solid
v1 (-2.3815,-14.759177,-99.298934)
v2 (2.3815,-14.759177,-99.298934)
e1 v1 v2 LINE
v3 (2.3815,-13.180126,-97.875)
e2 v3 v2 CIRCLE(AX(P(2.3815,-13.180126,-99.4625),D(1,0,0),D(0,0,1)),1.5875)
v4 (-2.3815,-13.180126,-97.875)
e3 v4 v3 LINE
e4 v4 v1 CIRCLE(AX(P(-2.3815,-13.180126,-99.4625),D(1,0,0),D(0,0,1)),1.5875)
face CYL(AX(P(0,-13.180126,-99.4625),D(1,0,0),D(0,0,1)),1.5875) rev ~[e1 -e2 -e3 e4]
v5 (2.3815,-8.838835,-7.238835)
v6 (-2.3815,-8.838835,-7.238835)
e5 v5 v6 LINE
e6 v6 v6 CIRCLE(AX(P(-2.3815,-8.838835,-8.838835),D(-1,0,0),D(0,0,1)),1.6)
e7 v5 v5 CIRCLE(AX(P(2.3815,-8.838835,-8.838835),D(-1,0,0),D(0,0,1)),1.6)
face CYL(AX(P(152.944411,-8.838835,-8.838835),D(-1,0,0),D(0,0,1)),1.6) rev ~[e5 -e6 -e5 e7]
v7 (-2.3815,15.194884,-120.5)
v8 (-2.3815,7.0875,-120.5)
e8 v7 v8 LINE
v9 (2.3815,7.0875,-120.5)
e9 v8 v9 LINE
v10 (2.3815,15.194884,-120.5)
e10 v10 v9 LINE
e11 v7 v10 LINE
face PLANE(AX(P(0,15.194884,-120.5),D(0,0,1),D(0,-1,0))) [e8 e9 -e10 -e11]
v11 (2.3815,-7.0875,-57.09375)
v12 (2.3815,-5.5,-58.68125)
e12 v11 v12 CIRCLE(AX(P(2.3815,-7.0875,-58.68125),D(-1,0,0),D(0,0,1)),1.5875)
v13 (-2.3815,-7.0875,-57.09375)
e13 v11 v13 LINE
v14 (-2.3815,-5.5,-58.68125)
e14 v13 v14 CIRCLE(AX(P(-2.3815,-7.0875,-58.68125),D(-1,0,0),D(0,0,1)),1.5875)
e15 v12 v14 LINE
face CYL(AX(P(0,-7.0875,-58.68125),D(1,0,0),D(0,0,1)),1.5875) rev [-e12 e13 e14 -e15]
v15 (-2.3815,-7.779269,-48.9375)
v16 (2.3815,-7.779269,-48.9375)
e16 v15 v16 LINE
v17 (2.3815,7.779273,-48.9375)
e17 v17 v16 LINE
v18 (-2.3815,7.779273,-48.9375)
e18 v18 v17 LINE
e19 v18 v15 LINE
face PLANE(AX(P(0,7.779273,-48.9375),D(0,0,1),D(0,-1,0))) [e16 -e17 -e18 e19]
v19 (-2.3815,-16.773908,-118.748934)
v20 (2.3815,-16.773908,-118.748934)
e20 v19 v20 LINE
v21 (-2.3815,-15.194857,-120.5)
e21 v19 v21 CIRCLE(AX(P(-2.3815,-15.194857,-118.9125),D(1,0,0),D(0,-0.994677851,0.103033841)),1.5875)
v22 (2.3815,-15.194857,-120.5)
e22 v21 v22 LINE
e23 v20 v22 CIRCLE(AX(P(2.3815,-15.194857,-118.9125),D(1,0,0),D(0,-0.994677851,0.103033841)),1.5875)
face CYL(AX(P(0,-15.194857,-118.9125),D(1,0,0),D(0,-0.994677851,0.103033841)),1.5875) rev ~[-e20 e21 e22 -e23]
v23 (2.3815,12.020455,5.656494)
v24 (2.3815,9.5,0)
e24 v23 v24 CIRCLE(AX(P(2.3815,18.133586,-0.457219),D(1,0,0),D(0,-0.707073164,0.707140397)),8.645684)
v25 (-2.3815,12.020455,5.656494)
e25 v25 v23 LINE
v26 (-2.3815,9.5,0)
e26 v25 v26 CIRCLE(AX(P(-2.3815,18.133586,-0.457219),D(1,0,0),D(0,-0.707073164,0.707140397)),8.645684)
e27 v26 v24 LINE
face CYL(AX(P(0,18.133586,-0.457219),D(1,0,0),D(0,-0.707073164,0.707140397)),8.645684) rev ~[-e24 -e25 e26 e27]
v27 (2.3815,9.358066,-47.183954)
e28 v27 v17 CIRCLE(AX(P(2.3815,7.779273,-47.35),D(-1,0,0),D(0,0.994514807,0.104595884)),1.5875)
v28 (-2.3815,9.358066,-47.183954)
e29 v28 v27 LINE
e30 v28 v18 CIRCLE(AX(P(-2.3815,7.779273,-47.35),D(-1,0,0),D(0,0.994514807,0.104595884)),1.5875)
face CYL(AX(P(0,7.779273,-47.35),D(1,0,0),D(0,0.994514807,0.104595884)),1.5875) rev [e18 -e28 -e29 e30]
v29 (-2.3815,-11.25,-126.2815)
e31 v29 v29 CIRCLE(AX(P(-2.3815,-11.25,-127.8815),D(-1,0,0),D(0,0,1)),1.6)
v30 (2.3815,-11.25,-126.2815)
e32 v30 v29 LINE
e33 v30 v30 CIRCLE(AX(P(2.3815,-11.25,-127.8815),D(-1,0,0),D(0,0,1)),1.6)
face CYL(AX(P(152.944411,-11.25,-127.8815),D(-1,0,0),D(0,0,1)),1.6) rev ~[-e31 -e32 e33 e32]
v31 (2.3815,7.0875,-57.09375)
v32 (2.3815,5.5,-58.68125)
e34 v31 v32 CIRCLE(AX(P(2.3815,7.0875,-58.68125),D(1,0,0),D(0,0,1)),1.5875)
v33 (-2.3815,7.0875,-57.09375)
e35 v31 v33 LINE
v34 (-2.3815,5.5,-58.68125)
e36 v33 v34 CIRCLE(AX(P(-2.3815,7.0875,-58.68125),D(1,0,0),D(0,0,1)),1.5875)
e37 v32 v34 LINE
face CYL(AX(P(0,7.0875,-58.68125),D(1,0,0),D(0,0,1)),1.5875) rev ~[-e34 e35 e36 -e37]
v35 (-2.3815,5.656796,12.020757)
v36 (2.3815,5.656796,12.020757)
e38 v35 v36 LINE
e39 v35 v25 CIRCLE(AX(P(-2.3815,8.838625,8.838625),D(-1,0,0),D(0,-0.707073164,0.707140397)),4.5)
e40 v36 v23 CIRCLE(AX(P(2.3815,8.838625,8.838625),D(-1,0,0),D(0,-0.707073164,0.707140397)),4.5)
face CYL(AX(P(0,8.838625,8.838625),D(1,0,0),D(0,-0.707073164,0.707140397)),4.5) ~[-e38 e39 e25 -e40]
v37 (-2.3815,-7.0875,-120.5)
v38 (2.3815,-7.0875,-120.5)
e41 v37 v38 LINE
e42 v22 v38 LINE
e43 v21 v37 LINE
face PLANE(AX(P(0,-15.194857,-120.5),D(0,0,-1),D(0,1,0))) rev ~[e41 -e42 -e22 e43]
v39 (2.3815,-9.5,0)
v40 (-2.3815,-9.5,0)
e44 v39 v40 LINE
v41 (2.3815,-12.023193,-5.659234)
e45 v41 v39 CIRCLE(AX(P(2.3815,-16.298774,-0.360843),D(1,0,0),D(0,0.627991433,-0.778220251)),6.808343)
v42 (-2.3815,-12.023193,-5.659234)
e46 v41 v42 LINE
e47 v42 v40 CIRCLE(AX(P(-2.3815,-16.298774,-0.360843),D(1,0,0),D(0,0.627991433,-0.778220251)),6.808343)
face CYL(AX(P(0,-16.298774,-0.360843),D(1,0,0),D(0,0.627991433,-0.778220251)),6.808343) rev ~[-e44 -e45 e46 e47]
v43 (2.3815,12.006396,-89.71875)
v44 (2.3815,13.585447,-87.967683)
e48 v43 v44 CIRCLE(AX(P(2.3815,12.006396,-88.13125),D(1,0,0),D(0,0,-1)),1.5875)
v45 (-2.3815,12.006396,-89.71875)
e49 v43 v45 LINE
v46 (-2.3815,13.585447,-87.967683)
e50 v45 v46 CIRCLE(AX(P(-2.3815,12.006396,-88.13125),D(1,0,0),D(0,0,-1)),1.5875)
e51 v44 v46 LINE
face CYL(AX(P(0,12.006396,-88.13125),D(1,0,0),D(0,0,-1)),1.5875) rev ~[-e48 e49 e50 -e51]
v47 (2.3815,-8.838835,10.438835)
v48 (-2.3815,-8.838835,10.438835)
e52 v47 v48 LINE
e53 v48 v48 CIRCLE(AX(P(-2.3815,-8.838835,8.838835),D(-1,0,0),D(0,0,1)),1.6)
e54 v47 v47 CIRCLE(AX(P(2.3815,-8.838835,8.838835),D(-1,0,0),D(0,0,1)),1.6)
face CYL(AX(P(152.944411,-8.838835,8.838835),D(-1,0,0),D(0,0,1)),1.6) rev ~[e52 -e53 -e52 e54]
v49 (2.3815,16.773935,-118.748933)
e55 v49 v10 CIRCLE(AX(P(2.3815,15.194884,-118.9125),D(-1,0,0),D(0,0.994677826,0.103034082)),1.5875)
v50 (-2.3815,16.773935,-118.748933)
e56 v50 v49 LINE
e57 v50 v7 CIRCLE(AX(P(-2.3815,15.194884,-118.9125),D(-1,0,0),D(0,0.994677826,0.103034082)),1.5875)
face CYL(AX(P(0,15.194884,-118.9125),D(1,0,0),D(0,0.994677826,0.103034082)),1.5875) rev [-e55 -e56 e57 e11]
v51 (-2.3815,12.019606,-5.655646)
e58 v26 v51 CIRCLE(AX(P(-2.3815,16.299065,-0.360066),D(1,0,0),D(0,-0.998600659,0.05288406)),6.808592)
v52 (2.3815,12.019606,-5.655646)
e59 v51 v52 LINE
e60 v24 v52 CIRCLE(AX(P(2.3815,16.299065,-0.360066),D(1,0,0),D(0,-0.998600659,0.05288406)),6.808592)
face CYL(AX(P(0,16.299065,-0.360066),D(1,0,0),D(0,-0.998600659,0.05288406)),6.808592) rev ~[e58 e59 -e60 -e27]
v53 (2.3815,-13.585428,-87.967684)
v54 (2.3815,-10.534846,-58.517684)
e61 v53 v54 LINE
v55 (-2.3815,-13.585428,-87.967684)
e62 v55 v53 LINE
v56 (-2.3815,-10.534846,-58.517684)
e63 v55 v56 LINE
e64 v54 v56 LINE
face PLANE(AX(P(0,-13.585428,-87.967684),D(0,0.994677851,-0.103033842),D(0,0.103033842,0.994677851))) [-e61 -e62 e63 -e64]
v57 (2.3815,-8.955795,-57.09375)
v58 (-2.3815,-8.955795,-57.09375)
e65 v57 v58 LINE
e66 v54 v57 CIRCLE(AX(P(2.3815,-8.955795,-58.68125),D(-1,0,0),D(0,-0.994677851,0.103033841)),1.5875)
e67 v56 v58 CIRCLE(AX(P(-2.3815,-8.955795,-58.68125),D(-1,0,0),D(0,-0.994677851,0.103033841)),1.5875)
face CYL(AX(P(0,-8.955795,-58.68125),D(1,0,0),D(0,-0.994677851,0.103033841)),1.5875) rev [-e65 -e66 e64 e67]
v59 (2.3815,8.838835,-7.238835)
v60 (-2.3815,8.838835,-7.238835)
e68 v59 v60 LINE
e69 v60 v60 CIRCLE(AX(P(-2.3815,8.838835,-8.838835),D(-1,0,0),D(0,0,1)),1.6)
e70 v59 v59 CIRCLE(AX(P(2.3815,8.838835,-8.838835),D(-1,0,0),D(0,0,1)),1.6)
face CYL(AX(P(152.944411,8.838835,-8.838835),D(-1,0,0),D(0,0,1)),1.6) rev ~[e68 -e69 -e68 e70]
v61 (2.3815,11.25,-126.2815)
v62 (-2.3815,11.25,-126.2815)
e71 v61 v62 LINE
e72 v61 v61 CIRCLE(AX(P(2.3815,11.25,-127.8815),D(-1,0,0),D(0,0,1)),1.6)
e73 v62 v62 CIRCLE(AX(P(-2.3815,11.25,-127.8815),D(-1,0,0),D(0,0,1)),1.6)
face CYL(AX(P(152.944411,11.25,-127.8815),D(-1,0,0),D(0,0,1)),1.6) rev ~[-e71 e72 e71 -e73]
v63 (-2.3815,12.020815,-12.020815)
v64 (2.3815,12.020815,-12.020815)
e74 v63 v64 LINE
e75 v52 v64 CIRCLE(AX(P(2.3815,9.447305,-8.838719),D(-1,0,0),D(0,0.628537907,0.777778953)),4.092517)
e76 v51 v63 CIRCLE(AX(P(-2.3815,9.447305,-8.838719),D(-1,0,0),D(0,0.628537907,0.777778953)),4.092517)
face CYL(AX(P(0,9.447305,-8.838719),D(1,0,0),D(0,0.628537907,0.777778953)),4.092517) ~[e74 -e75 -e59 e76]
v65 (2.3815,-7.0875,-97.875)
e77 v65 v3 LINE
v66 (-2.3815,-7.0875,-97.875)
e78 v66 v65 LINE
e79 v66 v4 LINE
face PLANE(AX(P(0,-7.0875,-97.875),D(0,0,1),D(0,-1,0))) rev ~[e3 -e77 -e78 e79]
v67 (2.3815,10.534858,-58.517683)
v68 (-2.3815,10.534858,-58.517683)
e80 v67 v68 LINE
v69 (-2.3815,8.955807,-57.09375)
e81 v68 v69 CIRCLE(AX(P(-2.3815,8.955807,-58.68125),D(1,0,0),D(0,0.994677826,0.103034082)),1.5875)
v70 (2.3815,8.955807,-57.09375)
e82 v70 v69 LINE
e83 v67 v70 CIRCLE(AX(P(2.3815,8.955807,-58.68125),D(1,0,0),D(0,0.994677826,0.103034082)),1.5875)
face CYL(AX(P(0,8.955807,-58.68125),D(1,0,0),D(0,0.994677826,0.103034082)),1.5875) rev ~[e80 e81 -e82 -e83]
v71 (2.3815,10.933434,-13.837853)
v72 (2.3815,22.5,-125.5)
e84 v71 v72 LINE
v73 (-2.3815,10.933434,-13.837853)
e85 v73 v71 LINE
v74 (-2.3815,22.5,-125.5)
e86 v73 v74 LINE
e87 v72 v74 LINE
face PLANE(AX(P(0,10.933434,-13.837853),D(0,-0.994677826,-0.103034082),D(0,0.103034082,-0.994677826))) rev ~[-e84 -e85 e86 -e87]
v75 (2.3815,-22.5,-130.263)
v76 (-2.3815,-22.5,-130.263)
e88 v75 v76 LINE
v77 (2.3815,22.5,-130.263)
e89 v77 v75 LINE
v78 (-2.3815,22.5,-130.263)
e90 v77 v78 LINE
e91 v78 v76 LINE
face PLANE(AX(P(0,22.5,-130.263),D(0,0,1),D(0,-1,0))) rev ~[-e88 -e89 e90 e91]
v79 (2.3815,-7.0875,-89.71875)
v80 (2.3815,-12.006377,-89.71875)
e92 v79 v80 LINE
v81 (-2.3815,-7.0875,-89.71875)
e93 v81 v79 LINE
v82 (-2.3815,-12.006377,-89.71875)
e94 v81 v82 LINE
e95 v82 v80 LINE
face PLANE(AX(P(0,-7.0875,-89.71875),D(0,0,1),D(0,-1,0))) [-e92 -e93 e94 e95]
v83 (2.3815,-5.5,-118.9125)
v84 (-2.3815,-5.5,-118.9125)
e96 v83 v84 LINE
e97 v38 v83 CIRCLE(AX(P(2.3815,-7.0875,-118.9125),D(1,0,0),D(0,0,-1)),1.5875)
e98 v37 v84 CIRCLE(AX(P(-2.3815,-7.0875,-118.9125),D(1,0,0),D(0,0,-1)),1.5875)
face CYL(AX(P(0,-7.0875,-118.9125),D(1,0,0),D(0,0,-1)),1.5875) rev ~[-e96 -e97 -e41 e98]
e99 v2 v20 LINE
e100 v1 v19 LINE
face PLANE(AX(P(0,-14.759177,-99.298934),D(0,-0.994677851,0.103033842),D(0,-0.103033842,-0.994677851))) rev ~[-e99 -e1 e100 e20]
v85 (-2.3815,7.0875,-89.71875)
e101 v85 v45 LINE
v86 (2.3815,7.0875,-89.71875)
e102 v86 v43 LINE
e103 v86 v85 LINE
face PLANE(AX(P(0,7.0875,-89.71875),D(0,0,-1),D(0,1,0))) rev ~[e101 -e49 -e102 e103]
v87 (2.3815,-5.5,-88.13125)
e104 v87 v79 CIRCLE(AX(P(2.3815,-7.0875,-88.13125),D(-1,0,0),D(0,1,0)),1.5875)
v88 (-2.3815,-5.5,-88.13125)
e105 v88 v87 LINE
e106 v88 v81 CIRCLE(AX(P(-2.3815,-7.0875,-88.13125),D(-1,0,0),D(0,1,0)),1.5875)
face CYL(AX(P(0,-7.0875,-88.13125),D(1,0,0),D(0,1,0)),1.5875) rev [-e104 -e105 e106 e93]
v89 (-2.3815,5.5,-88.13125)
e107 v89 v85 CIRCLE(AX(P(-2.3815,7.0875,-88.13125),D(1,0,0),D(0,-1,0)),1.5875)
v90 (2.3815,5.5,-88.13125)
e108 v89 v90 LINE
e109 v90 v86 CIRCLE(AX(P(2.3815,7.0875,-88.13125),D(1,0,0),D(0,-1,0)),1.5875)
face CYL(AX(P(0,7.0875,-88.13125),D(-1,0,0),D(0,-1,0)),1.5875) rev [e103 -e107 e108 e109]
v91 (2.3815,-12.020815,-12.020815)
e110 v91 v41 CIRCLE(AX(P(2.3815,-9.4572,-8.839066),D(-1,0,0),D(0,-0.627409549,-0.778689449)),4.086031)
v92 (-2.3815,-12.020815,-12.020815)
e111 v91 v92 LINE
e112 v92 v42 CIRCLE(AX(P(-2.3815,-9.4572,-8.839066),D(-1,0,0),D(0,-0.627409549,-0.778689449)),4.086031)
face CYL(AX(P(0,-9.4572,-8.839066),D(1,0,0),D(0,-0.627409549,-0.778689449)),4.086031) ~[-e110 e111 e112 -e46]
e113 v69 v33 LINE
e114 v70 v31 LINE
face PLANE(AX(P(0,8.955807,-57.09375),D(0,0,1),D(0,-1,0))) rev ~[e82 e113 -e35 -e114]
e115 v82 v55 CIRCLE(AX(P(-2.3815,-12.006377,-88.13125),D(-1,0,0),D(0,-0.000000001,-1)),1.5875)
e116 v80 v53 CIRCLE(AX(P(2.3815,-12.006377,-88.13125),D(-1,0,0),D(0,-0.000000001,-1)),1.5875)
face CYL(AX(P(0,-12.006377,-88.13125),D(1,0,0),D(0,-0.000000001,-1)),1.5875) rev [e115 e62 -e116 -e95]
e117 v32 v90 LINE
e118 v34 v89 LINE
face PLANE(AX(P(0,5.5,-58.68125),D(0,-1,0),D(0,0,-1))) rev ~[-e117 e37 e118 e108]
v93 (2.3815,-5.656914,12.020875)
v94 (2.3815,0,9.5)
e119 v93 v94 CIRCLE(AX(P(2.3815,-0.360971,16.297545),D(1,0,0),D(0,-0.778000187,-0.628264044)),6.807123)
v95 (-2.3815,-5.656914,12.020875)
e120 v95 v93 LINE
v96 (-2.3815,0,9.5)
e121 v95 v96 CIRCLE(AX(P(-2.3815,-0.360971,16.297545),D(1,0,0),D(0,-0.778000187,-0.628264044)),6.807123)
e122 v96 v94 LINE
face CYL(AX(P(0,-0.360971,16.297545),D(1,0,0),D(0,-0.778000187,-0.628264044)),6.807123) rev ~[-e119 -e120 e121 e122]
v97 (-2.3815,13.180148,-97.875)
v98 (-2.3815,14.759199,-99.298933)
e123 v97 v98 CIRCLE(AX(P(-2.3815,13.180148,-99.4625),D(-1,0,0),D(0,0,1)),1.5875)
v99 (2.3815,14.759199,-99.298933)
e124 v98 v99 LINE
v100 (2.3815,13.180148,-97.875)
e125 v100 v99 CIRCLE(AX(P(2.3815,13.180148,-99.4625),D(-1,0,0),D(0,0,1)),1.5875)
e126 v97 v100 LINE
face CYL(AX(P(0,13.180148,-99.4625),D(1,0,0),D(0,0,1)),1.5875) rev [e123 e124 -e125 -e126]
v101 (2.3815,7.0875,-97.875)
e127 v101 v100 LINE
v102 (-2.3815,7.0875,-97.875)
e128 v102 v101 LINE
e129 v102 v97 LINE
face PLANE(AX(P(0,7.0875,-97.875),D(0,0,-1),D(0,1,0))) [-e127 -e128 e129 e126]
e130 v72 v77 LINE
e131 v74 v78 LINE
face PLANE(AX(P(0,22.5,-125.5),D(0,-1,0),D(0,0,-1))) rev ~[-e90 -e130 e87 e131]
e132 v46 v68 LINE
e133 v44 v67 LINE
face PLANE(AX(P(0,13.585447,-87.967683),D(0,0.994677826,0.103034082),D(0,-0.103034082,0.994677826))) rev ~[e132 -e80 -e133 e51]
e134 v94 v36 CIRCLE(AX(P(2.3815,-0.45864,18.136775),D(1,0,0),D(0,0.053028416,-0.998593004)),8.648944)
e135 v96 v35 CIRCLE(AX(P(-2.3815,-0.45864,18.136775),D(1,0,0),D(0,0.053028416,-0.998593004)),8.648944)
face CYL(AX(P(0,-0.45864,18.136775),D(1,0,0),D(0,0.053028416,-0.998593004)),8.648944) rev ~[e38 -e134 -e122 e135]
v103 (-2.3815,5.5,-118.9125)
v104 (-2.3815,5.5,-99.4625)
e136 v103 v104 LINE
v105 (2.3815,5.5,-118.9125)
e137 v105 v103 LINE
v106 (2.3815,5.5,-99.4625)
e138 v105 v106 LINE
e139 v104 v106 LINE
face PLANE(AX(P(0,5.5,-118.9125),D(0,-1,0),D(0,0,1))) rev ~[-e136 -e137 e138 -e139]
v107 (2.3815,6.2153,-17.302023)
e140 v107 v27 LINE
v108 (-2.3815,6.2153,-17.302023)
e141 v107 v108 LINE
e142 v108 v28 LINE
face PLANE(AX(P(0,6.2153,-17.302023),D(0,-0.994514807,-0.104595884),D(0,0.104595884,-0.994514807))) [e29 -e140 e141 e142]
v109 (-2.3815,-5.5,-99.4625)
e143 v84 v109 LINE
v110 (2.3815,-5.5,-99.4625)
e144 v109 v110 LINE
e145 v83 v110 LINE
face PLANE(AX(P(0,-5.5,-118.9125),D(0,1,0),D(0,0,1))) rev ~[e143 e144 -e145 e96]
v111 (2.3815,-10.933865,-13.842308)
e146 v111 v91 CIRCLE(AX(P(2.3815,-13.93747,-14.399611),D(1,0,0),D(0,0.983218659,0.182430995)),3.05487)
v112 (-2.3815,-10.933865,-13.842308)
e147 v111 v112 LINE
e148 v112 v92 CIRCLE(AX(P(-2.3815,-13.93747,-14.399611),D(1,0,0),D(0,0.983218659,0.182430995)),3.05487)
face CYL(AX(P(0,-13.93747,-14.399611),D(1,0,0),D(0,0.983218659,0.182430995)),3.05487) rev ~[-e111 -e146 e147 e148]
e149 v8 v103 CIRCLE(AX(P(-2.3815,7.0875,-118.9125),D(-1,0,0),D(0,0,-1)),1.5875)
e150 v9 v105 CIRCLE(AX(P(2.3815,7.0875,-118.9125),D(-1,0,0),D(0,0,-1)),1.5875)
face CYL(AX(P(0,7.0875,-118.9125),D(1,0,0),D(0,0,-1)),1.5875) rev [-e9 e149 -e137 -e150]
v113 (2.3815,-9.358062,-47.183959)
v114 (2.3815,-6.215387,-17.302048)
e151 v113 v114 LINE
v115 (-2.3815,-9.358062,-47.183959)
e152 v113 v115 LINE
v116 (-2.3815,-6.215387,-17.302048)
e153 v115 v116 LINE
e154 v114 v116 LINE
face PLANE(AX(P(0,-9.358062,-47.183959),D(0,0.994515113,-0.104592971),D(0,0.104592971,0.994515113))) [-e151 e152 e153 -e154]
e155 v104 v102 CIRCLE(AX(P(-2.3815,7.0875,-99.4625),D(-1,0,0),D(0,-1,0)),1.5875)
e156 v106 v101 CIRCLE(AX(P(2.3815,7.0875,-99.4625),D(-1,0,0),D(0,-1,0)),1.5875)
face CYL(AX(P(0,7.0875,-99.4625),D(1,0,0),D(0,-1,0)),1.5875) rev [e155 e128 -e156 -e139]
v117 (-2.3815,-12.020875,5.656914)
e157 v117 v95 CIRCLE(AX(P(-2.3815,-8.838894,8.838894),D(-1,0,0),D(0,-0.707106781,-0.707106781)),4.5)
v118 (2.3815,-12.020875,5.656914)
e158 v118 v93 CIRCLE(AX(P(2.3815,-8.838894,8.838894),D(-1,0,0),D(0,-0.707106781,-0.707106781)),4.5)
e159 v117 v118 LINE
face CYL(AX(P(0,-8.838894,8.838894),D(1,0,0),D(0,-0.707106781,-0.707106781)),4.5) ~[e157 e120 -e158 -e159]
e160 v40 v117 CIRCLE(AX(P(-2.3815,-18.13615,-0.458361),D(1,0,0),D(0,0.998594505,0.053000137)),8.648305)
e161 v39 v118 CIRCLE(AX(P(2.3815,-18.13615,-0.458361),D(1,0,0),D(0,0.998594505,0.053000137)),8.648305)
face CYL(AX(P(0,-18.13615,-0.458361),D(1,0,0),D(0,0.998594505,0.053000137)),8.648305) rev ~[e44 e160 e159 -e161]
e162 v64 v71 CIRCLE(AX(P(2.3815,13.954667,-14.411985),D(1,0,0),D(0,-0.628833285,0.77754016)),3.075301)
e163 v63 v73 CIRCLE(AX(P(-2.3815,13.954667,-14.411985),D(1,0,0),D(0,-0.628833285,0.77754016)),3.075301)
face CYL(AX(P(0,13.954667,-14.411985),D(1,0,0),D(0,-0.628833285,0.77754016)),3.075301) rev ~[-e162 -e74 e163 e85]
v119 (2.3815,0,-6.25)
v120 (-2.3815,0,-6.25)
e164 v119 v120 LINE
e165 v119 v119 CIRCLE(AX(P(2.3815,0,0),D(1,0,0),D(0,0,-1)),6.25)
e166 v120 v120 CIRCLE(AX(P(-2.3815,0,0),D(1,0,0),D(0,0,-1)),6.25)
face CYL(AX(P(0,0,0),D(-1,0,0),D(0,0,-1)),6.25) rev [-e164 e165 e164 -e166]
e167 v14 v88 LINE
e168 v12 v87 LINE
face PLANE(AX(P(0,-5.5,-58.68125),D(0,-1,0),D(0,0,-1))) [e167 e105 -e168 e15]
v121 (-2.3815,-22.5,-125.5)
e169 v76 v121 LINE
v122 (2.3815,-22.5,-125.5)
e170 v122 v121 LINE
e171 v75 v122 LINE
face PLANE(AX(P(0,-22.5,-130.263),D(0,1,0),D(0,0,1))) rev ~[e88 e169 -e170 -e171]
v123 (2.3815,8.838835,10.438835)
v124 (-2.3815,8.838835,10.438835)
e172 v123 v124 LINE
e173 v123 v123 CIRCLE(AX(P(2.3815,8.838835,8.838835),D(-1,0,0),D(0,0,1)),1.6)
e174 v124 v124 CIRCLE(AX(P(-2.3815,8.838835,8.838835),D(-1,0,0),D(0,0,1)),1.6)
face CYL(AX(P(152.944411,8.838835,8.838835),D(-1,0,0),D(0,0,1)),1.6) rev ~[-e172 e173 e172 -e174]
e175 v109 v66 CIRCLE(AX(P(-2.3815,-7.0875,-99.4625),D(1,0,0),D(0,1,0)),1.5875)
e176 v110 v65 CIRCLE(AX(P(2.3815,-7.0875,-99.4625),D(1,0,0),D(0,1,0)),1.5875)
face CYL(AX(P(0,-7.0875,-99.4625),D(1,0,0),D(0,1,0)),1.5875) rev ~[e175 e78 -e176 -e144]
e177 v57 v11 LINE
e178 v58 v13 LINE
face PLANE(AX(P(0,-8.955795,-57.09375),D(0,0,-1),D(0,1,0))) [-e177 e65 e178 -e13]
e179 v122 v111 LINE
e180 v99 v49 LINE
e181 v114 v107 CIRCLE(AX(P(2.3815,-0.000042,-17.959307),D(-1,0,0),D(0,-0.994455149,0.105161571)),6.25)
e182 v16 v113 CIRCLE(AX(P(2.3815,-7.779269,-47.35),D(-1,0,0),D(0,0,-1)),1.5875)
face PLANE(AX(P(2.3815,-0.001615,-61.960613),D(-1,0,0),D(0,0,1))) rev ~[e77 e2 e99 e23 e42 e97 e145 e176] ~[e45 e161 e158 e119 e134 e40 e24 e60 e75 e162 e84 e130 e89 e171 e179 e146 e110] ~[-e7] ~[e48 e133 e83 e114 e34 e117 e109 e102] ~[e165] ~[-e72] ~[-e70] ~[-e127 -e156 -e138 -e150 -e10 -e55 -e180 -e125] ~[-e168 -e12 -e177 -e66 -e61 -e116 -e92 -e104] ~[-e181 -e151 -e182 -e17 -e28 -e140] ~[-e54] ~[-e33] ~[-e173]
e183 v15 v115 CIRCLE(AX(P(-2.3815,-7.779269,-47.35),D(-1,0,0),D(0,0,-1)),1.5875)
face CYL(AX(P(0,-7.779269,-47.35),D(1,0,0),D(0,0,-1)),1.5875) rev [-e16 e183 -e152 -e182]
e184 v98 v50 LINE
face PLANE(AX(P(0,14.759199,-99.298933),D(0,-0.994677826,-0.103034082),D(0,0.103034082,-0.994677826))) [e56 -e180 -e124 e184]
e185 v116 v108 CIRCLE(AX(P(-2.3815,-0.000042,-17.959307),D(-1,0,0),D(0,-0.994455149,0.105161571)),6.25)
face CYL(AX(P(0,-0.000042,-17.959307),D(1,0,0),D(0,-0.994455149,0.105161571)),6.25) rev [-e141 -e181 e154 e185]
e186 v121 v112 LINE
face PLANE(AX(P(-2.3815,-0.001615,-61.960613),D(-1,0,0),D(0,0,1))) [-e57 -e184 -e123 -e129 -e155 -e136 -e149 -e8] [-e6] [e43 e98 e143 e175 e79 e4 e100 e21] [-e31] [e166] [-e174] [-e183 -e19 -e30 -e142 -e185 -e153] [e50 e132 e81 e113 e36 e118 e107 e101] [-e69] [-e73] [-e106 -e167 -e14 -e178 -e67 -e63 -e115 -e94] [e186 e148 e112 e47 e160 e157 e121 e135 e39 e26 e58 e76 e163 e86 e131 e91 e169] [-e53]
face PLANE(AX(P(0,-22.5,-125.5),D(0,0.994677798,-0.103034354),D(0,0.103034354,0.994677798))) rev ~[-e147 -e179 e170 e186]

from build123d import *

# Parameters (mm, degrees)
SKETCH1_R            = 6.25
BOSS_EXTRUDE1_DEPTH  = 2.3815
M3_CLEARANCE_HOLE1_D = 3.2
M3_CLEARANCE_HOLE2_D = 3.2


with BuildPart() as part:
    # Sketch1 → Boss-Extrude1 (new body, symmetric)
    with BuildSketch(Plane(origin=(0, 0, 0), x_dir=(0, 0, -1), z_dir=(1, 0, 0))):
        with BuildLine():
            Line((13.837853408, 10.933433942), (125.499999966, 22.5))
            Line((125.499999966, 22.5), (130.262999966, 22.5))
            Line((130.262999966, 22.5), (130.262999966, -22.5))
            Line((130.262999966, -22.5), (125.499999966, -22.5))
            Line((125.499999966, -22.5), (13.842307627, -10.933864535))
            ThreePointArc((13.842307627, -10.933864535), (12.834192522, -11.314170817), (12.02081528, -12.02081528))
            ThreePointArc((12.02081528, -12.02081528), (8.840593, -13.543231212), (5.659233624, -12.023192877))
            ThreePointArc((5.659233624, -12.023192877), (3.133291337, -10.08048914), (0, -9.5))
            ThreePointArc((0, -9.5), (-3.061848318, -10.236700307), (-5.656913672, -12.020874702))
            ThreePointArc((-5.656913672, -12.020874702), (-12.020874702, -12.020874704), (-12.020874704, -5.656913674))
            ThreePointArc((-12.020874704, -5.656913674), (-10.079850186, -3.131745006), (-9.500000034, 0))
            ThreePointArc((-9.500000034, 0), (-10.236707938, 3.061753973), (-12.020757217, 5.656796188))
            ThreePointArc((-12.020757217, 5.656796188), (-12.02045467, 12.020757197), (-5.65649366, 12.02045465))
            ThreePointArc((-5.65649366, 12.02045465), (-3.061652792, 10.236409392), (0, 9.5))
            ThreePointArc((0, 9.5), (3.130793061, 10.079739971), (5.655645869, 12.019606441))
            ThreePointArc((5.655645869, 12.019606441), (8.837941978, 13.539821179), (12.02081528, 12.02081528))
            ThreePointArc((12.02081528, 12.02081528), (12.832791387, 11.315799207), (13.837853408, 10.933433942))
        make_face()
        Circle(SKETCH1_R, mode=Mode.SUBTRACT)
        with BuildLine():
            Line((17.302023212, 6.215300033), (47.183954034, 9.358065674))
            ThreePointArc((47.183954034, 9.358065674), (48.412204848, 8.959051834), (48.9375, 7.779273418))
            Line((48.9375, 7.779273418), (48.9375, -7.779269087))
            ThreePointArc((48.9375, -7.779269087), (48.412206576, -8.959045947), (47.183958659, -9.358061829))
            Line((47.183958659, -9.358061829), (17.302047548, -6.21538676))
            ThreePointArc((17.302047548, -6.21538676), (11.709307369, -5.4312e-05), (17.302023212, 6.215300033))
        make_face(mode=Mode.SUBTRACT)
        with BuildLine():
            Line((57.09375, 8.955806876), (57.09375, 7.0875))
            ThreePointArc((57.09375, 7.0875), (57.558717985, 5.964967985), (58.68125, 5.5))
            Line((58.68125, 5.5), (88.13125, 5.5))
            ThreePointArc((88.13125, 5.5), (89.253782015, 5.964967985), (89.71875, 7.0875))
            Line((89.71875, 7.0875), (89.71875, 12.006396363))
            ThreePointArc((89.71875, 12.006396363), (89.194380816, 13.185340432), (87.967683395, 13.585447412))
            Line((87.967683395, 13.585447412), (58.517683395, 10.534857925))
            ThreePointArc((58.517683395, 10.534857925), (57.502305931, 10.018937692), (57.09375, 8.955806876))
        make_face(mode=Mode.SUBTRACT)
        with BuildLine():
            Line((58.68125, -5.5), (88.13125, -5.5))
            ThreePointArc((88.13125, -5.5), (89.253782015, -5.964967985), (89.71875, -7.0875))
            Line((89.71875, -7.0875), (89.71875, -12.006377313))
            ThreePointArc((89.71875, -12.006377313), (89.194380958, -13.185321253), (87.967683776, -13.585428401))
            Line((87.967683776, -13.585428401), (58.517683776, -10.534846102))
            ThreePointArc((58.517683776, -10.534846102), (57.502306059, -10.018925972), (57.09375, -8.955795013))
            Line((57.09375, -8.955795013), (57.09375, -7.0875))
            ThreePointArc((57.09375, -7.0875), (57.558717985, -5.964967985), (58.68125, -5.5))
        make_face(mode=Mode.SUBTRACT)
        with BuildLine():
            Line((99.298933395, 14.759199267), (118.74893336, 16.773934935))
            ThreePointArc((118.74893336, 16.773934935), (119.975630782, 16.373827955), (120.499999966, 15.194883886))
            Line((120.499999966, 15.194883886), (120.499999966, 7.0875))
            ThreePointArc((120.499999966, 7.0875), (120.035031981, 5.964967985), (118.912499966, 5.5))
            Line((118.912499966, 5.5), (99.4625, 5.5))
            ThreePointArc((99.4625, 5.5), (98.339967985, 5.964967985), (97.875, 7.0875))
            Line((97.875, 7.0875), (97.875, 13.180148218))
            ThreePointArc((97.875, 13.180148218), (98.283555931, 14.243279034), (99.298933395, 14.759199267))
        make_face(mode=Mode.SUBTRACT)
        with BuildLine():
            Line((118.912499966, -5.5), (99.4625, -5.5))
            ThreePointArc((99.4625, -5.5), (98.339967985, -5.964967985), (97.875, -7.0875))
            Line((97.875, -7.0875), (97.875, -13.180126402))
            ThreePointArc((97.875, -13.180126402), (98.283556059, -14.24325736), (99.298933776, -14.759177491))
            Line((99.298933776, -14.759177491), (118.748933742, -16.773908412))
            ThreePointArc((118.748933742, -16.773908412), (119.975630924, -16.373801264), (120.499999966, -15.194857323))
            Line((120.499999966, -15.194857323), (120.499999966, -7.0875))
            ThreePointArc((120.499999966, -7.0875), (120.035031981, -5.964967985), (118.912499966, -5.5))
        make_face(mode=Mode.SUBTRACT)
    extrude(amount=BOSS_EXTRUDE1_DEPTH, both=True)

    # M3 Clearance Hole1 (through all)
    with Locations(Plane(origin=(2.3815, 0, 0), x_dir=(0, 0, -1), z_dir=(1, 0, 0))):
        with Locations((127.881499966, 11.25), (127.881499966, -11.25)):
            Hole(M3_CLEARANCE_HOLE1_D / 2)

    # M3 Clearance Hole2 (through all)
    with Locations(Plane(origin=(2.3815, 0, 0), x_dir=(0, 0, -1), z_dir=(1, 0, 0))):
        with Locations((-8.838834765, 8.838834765), (8.838834765, 8.838834765), (8.838834765, -8.838834765), (-8.838834765, -8.838834765)):
            Hole(M3_CLEARANCE_HOLE2_D / 2)


solid = part.part
